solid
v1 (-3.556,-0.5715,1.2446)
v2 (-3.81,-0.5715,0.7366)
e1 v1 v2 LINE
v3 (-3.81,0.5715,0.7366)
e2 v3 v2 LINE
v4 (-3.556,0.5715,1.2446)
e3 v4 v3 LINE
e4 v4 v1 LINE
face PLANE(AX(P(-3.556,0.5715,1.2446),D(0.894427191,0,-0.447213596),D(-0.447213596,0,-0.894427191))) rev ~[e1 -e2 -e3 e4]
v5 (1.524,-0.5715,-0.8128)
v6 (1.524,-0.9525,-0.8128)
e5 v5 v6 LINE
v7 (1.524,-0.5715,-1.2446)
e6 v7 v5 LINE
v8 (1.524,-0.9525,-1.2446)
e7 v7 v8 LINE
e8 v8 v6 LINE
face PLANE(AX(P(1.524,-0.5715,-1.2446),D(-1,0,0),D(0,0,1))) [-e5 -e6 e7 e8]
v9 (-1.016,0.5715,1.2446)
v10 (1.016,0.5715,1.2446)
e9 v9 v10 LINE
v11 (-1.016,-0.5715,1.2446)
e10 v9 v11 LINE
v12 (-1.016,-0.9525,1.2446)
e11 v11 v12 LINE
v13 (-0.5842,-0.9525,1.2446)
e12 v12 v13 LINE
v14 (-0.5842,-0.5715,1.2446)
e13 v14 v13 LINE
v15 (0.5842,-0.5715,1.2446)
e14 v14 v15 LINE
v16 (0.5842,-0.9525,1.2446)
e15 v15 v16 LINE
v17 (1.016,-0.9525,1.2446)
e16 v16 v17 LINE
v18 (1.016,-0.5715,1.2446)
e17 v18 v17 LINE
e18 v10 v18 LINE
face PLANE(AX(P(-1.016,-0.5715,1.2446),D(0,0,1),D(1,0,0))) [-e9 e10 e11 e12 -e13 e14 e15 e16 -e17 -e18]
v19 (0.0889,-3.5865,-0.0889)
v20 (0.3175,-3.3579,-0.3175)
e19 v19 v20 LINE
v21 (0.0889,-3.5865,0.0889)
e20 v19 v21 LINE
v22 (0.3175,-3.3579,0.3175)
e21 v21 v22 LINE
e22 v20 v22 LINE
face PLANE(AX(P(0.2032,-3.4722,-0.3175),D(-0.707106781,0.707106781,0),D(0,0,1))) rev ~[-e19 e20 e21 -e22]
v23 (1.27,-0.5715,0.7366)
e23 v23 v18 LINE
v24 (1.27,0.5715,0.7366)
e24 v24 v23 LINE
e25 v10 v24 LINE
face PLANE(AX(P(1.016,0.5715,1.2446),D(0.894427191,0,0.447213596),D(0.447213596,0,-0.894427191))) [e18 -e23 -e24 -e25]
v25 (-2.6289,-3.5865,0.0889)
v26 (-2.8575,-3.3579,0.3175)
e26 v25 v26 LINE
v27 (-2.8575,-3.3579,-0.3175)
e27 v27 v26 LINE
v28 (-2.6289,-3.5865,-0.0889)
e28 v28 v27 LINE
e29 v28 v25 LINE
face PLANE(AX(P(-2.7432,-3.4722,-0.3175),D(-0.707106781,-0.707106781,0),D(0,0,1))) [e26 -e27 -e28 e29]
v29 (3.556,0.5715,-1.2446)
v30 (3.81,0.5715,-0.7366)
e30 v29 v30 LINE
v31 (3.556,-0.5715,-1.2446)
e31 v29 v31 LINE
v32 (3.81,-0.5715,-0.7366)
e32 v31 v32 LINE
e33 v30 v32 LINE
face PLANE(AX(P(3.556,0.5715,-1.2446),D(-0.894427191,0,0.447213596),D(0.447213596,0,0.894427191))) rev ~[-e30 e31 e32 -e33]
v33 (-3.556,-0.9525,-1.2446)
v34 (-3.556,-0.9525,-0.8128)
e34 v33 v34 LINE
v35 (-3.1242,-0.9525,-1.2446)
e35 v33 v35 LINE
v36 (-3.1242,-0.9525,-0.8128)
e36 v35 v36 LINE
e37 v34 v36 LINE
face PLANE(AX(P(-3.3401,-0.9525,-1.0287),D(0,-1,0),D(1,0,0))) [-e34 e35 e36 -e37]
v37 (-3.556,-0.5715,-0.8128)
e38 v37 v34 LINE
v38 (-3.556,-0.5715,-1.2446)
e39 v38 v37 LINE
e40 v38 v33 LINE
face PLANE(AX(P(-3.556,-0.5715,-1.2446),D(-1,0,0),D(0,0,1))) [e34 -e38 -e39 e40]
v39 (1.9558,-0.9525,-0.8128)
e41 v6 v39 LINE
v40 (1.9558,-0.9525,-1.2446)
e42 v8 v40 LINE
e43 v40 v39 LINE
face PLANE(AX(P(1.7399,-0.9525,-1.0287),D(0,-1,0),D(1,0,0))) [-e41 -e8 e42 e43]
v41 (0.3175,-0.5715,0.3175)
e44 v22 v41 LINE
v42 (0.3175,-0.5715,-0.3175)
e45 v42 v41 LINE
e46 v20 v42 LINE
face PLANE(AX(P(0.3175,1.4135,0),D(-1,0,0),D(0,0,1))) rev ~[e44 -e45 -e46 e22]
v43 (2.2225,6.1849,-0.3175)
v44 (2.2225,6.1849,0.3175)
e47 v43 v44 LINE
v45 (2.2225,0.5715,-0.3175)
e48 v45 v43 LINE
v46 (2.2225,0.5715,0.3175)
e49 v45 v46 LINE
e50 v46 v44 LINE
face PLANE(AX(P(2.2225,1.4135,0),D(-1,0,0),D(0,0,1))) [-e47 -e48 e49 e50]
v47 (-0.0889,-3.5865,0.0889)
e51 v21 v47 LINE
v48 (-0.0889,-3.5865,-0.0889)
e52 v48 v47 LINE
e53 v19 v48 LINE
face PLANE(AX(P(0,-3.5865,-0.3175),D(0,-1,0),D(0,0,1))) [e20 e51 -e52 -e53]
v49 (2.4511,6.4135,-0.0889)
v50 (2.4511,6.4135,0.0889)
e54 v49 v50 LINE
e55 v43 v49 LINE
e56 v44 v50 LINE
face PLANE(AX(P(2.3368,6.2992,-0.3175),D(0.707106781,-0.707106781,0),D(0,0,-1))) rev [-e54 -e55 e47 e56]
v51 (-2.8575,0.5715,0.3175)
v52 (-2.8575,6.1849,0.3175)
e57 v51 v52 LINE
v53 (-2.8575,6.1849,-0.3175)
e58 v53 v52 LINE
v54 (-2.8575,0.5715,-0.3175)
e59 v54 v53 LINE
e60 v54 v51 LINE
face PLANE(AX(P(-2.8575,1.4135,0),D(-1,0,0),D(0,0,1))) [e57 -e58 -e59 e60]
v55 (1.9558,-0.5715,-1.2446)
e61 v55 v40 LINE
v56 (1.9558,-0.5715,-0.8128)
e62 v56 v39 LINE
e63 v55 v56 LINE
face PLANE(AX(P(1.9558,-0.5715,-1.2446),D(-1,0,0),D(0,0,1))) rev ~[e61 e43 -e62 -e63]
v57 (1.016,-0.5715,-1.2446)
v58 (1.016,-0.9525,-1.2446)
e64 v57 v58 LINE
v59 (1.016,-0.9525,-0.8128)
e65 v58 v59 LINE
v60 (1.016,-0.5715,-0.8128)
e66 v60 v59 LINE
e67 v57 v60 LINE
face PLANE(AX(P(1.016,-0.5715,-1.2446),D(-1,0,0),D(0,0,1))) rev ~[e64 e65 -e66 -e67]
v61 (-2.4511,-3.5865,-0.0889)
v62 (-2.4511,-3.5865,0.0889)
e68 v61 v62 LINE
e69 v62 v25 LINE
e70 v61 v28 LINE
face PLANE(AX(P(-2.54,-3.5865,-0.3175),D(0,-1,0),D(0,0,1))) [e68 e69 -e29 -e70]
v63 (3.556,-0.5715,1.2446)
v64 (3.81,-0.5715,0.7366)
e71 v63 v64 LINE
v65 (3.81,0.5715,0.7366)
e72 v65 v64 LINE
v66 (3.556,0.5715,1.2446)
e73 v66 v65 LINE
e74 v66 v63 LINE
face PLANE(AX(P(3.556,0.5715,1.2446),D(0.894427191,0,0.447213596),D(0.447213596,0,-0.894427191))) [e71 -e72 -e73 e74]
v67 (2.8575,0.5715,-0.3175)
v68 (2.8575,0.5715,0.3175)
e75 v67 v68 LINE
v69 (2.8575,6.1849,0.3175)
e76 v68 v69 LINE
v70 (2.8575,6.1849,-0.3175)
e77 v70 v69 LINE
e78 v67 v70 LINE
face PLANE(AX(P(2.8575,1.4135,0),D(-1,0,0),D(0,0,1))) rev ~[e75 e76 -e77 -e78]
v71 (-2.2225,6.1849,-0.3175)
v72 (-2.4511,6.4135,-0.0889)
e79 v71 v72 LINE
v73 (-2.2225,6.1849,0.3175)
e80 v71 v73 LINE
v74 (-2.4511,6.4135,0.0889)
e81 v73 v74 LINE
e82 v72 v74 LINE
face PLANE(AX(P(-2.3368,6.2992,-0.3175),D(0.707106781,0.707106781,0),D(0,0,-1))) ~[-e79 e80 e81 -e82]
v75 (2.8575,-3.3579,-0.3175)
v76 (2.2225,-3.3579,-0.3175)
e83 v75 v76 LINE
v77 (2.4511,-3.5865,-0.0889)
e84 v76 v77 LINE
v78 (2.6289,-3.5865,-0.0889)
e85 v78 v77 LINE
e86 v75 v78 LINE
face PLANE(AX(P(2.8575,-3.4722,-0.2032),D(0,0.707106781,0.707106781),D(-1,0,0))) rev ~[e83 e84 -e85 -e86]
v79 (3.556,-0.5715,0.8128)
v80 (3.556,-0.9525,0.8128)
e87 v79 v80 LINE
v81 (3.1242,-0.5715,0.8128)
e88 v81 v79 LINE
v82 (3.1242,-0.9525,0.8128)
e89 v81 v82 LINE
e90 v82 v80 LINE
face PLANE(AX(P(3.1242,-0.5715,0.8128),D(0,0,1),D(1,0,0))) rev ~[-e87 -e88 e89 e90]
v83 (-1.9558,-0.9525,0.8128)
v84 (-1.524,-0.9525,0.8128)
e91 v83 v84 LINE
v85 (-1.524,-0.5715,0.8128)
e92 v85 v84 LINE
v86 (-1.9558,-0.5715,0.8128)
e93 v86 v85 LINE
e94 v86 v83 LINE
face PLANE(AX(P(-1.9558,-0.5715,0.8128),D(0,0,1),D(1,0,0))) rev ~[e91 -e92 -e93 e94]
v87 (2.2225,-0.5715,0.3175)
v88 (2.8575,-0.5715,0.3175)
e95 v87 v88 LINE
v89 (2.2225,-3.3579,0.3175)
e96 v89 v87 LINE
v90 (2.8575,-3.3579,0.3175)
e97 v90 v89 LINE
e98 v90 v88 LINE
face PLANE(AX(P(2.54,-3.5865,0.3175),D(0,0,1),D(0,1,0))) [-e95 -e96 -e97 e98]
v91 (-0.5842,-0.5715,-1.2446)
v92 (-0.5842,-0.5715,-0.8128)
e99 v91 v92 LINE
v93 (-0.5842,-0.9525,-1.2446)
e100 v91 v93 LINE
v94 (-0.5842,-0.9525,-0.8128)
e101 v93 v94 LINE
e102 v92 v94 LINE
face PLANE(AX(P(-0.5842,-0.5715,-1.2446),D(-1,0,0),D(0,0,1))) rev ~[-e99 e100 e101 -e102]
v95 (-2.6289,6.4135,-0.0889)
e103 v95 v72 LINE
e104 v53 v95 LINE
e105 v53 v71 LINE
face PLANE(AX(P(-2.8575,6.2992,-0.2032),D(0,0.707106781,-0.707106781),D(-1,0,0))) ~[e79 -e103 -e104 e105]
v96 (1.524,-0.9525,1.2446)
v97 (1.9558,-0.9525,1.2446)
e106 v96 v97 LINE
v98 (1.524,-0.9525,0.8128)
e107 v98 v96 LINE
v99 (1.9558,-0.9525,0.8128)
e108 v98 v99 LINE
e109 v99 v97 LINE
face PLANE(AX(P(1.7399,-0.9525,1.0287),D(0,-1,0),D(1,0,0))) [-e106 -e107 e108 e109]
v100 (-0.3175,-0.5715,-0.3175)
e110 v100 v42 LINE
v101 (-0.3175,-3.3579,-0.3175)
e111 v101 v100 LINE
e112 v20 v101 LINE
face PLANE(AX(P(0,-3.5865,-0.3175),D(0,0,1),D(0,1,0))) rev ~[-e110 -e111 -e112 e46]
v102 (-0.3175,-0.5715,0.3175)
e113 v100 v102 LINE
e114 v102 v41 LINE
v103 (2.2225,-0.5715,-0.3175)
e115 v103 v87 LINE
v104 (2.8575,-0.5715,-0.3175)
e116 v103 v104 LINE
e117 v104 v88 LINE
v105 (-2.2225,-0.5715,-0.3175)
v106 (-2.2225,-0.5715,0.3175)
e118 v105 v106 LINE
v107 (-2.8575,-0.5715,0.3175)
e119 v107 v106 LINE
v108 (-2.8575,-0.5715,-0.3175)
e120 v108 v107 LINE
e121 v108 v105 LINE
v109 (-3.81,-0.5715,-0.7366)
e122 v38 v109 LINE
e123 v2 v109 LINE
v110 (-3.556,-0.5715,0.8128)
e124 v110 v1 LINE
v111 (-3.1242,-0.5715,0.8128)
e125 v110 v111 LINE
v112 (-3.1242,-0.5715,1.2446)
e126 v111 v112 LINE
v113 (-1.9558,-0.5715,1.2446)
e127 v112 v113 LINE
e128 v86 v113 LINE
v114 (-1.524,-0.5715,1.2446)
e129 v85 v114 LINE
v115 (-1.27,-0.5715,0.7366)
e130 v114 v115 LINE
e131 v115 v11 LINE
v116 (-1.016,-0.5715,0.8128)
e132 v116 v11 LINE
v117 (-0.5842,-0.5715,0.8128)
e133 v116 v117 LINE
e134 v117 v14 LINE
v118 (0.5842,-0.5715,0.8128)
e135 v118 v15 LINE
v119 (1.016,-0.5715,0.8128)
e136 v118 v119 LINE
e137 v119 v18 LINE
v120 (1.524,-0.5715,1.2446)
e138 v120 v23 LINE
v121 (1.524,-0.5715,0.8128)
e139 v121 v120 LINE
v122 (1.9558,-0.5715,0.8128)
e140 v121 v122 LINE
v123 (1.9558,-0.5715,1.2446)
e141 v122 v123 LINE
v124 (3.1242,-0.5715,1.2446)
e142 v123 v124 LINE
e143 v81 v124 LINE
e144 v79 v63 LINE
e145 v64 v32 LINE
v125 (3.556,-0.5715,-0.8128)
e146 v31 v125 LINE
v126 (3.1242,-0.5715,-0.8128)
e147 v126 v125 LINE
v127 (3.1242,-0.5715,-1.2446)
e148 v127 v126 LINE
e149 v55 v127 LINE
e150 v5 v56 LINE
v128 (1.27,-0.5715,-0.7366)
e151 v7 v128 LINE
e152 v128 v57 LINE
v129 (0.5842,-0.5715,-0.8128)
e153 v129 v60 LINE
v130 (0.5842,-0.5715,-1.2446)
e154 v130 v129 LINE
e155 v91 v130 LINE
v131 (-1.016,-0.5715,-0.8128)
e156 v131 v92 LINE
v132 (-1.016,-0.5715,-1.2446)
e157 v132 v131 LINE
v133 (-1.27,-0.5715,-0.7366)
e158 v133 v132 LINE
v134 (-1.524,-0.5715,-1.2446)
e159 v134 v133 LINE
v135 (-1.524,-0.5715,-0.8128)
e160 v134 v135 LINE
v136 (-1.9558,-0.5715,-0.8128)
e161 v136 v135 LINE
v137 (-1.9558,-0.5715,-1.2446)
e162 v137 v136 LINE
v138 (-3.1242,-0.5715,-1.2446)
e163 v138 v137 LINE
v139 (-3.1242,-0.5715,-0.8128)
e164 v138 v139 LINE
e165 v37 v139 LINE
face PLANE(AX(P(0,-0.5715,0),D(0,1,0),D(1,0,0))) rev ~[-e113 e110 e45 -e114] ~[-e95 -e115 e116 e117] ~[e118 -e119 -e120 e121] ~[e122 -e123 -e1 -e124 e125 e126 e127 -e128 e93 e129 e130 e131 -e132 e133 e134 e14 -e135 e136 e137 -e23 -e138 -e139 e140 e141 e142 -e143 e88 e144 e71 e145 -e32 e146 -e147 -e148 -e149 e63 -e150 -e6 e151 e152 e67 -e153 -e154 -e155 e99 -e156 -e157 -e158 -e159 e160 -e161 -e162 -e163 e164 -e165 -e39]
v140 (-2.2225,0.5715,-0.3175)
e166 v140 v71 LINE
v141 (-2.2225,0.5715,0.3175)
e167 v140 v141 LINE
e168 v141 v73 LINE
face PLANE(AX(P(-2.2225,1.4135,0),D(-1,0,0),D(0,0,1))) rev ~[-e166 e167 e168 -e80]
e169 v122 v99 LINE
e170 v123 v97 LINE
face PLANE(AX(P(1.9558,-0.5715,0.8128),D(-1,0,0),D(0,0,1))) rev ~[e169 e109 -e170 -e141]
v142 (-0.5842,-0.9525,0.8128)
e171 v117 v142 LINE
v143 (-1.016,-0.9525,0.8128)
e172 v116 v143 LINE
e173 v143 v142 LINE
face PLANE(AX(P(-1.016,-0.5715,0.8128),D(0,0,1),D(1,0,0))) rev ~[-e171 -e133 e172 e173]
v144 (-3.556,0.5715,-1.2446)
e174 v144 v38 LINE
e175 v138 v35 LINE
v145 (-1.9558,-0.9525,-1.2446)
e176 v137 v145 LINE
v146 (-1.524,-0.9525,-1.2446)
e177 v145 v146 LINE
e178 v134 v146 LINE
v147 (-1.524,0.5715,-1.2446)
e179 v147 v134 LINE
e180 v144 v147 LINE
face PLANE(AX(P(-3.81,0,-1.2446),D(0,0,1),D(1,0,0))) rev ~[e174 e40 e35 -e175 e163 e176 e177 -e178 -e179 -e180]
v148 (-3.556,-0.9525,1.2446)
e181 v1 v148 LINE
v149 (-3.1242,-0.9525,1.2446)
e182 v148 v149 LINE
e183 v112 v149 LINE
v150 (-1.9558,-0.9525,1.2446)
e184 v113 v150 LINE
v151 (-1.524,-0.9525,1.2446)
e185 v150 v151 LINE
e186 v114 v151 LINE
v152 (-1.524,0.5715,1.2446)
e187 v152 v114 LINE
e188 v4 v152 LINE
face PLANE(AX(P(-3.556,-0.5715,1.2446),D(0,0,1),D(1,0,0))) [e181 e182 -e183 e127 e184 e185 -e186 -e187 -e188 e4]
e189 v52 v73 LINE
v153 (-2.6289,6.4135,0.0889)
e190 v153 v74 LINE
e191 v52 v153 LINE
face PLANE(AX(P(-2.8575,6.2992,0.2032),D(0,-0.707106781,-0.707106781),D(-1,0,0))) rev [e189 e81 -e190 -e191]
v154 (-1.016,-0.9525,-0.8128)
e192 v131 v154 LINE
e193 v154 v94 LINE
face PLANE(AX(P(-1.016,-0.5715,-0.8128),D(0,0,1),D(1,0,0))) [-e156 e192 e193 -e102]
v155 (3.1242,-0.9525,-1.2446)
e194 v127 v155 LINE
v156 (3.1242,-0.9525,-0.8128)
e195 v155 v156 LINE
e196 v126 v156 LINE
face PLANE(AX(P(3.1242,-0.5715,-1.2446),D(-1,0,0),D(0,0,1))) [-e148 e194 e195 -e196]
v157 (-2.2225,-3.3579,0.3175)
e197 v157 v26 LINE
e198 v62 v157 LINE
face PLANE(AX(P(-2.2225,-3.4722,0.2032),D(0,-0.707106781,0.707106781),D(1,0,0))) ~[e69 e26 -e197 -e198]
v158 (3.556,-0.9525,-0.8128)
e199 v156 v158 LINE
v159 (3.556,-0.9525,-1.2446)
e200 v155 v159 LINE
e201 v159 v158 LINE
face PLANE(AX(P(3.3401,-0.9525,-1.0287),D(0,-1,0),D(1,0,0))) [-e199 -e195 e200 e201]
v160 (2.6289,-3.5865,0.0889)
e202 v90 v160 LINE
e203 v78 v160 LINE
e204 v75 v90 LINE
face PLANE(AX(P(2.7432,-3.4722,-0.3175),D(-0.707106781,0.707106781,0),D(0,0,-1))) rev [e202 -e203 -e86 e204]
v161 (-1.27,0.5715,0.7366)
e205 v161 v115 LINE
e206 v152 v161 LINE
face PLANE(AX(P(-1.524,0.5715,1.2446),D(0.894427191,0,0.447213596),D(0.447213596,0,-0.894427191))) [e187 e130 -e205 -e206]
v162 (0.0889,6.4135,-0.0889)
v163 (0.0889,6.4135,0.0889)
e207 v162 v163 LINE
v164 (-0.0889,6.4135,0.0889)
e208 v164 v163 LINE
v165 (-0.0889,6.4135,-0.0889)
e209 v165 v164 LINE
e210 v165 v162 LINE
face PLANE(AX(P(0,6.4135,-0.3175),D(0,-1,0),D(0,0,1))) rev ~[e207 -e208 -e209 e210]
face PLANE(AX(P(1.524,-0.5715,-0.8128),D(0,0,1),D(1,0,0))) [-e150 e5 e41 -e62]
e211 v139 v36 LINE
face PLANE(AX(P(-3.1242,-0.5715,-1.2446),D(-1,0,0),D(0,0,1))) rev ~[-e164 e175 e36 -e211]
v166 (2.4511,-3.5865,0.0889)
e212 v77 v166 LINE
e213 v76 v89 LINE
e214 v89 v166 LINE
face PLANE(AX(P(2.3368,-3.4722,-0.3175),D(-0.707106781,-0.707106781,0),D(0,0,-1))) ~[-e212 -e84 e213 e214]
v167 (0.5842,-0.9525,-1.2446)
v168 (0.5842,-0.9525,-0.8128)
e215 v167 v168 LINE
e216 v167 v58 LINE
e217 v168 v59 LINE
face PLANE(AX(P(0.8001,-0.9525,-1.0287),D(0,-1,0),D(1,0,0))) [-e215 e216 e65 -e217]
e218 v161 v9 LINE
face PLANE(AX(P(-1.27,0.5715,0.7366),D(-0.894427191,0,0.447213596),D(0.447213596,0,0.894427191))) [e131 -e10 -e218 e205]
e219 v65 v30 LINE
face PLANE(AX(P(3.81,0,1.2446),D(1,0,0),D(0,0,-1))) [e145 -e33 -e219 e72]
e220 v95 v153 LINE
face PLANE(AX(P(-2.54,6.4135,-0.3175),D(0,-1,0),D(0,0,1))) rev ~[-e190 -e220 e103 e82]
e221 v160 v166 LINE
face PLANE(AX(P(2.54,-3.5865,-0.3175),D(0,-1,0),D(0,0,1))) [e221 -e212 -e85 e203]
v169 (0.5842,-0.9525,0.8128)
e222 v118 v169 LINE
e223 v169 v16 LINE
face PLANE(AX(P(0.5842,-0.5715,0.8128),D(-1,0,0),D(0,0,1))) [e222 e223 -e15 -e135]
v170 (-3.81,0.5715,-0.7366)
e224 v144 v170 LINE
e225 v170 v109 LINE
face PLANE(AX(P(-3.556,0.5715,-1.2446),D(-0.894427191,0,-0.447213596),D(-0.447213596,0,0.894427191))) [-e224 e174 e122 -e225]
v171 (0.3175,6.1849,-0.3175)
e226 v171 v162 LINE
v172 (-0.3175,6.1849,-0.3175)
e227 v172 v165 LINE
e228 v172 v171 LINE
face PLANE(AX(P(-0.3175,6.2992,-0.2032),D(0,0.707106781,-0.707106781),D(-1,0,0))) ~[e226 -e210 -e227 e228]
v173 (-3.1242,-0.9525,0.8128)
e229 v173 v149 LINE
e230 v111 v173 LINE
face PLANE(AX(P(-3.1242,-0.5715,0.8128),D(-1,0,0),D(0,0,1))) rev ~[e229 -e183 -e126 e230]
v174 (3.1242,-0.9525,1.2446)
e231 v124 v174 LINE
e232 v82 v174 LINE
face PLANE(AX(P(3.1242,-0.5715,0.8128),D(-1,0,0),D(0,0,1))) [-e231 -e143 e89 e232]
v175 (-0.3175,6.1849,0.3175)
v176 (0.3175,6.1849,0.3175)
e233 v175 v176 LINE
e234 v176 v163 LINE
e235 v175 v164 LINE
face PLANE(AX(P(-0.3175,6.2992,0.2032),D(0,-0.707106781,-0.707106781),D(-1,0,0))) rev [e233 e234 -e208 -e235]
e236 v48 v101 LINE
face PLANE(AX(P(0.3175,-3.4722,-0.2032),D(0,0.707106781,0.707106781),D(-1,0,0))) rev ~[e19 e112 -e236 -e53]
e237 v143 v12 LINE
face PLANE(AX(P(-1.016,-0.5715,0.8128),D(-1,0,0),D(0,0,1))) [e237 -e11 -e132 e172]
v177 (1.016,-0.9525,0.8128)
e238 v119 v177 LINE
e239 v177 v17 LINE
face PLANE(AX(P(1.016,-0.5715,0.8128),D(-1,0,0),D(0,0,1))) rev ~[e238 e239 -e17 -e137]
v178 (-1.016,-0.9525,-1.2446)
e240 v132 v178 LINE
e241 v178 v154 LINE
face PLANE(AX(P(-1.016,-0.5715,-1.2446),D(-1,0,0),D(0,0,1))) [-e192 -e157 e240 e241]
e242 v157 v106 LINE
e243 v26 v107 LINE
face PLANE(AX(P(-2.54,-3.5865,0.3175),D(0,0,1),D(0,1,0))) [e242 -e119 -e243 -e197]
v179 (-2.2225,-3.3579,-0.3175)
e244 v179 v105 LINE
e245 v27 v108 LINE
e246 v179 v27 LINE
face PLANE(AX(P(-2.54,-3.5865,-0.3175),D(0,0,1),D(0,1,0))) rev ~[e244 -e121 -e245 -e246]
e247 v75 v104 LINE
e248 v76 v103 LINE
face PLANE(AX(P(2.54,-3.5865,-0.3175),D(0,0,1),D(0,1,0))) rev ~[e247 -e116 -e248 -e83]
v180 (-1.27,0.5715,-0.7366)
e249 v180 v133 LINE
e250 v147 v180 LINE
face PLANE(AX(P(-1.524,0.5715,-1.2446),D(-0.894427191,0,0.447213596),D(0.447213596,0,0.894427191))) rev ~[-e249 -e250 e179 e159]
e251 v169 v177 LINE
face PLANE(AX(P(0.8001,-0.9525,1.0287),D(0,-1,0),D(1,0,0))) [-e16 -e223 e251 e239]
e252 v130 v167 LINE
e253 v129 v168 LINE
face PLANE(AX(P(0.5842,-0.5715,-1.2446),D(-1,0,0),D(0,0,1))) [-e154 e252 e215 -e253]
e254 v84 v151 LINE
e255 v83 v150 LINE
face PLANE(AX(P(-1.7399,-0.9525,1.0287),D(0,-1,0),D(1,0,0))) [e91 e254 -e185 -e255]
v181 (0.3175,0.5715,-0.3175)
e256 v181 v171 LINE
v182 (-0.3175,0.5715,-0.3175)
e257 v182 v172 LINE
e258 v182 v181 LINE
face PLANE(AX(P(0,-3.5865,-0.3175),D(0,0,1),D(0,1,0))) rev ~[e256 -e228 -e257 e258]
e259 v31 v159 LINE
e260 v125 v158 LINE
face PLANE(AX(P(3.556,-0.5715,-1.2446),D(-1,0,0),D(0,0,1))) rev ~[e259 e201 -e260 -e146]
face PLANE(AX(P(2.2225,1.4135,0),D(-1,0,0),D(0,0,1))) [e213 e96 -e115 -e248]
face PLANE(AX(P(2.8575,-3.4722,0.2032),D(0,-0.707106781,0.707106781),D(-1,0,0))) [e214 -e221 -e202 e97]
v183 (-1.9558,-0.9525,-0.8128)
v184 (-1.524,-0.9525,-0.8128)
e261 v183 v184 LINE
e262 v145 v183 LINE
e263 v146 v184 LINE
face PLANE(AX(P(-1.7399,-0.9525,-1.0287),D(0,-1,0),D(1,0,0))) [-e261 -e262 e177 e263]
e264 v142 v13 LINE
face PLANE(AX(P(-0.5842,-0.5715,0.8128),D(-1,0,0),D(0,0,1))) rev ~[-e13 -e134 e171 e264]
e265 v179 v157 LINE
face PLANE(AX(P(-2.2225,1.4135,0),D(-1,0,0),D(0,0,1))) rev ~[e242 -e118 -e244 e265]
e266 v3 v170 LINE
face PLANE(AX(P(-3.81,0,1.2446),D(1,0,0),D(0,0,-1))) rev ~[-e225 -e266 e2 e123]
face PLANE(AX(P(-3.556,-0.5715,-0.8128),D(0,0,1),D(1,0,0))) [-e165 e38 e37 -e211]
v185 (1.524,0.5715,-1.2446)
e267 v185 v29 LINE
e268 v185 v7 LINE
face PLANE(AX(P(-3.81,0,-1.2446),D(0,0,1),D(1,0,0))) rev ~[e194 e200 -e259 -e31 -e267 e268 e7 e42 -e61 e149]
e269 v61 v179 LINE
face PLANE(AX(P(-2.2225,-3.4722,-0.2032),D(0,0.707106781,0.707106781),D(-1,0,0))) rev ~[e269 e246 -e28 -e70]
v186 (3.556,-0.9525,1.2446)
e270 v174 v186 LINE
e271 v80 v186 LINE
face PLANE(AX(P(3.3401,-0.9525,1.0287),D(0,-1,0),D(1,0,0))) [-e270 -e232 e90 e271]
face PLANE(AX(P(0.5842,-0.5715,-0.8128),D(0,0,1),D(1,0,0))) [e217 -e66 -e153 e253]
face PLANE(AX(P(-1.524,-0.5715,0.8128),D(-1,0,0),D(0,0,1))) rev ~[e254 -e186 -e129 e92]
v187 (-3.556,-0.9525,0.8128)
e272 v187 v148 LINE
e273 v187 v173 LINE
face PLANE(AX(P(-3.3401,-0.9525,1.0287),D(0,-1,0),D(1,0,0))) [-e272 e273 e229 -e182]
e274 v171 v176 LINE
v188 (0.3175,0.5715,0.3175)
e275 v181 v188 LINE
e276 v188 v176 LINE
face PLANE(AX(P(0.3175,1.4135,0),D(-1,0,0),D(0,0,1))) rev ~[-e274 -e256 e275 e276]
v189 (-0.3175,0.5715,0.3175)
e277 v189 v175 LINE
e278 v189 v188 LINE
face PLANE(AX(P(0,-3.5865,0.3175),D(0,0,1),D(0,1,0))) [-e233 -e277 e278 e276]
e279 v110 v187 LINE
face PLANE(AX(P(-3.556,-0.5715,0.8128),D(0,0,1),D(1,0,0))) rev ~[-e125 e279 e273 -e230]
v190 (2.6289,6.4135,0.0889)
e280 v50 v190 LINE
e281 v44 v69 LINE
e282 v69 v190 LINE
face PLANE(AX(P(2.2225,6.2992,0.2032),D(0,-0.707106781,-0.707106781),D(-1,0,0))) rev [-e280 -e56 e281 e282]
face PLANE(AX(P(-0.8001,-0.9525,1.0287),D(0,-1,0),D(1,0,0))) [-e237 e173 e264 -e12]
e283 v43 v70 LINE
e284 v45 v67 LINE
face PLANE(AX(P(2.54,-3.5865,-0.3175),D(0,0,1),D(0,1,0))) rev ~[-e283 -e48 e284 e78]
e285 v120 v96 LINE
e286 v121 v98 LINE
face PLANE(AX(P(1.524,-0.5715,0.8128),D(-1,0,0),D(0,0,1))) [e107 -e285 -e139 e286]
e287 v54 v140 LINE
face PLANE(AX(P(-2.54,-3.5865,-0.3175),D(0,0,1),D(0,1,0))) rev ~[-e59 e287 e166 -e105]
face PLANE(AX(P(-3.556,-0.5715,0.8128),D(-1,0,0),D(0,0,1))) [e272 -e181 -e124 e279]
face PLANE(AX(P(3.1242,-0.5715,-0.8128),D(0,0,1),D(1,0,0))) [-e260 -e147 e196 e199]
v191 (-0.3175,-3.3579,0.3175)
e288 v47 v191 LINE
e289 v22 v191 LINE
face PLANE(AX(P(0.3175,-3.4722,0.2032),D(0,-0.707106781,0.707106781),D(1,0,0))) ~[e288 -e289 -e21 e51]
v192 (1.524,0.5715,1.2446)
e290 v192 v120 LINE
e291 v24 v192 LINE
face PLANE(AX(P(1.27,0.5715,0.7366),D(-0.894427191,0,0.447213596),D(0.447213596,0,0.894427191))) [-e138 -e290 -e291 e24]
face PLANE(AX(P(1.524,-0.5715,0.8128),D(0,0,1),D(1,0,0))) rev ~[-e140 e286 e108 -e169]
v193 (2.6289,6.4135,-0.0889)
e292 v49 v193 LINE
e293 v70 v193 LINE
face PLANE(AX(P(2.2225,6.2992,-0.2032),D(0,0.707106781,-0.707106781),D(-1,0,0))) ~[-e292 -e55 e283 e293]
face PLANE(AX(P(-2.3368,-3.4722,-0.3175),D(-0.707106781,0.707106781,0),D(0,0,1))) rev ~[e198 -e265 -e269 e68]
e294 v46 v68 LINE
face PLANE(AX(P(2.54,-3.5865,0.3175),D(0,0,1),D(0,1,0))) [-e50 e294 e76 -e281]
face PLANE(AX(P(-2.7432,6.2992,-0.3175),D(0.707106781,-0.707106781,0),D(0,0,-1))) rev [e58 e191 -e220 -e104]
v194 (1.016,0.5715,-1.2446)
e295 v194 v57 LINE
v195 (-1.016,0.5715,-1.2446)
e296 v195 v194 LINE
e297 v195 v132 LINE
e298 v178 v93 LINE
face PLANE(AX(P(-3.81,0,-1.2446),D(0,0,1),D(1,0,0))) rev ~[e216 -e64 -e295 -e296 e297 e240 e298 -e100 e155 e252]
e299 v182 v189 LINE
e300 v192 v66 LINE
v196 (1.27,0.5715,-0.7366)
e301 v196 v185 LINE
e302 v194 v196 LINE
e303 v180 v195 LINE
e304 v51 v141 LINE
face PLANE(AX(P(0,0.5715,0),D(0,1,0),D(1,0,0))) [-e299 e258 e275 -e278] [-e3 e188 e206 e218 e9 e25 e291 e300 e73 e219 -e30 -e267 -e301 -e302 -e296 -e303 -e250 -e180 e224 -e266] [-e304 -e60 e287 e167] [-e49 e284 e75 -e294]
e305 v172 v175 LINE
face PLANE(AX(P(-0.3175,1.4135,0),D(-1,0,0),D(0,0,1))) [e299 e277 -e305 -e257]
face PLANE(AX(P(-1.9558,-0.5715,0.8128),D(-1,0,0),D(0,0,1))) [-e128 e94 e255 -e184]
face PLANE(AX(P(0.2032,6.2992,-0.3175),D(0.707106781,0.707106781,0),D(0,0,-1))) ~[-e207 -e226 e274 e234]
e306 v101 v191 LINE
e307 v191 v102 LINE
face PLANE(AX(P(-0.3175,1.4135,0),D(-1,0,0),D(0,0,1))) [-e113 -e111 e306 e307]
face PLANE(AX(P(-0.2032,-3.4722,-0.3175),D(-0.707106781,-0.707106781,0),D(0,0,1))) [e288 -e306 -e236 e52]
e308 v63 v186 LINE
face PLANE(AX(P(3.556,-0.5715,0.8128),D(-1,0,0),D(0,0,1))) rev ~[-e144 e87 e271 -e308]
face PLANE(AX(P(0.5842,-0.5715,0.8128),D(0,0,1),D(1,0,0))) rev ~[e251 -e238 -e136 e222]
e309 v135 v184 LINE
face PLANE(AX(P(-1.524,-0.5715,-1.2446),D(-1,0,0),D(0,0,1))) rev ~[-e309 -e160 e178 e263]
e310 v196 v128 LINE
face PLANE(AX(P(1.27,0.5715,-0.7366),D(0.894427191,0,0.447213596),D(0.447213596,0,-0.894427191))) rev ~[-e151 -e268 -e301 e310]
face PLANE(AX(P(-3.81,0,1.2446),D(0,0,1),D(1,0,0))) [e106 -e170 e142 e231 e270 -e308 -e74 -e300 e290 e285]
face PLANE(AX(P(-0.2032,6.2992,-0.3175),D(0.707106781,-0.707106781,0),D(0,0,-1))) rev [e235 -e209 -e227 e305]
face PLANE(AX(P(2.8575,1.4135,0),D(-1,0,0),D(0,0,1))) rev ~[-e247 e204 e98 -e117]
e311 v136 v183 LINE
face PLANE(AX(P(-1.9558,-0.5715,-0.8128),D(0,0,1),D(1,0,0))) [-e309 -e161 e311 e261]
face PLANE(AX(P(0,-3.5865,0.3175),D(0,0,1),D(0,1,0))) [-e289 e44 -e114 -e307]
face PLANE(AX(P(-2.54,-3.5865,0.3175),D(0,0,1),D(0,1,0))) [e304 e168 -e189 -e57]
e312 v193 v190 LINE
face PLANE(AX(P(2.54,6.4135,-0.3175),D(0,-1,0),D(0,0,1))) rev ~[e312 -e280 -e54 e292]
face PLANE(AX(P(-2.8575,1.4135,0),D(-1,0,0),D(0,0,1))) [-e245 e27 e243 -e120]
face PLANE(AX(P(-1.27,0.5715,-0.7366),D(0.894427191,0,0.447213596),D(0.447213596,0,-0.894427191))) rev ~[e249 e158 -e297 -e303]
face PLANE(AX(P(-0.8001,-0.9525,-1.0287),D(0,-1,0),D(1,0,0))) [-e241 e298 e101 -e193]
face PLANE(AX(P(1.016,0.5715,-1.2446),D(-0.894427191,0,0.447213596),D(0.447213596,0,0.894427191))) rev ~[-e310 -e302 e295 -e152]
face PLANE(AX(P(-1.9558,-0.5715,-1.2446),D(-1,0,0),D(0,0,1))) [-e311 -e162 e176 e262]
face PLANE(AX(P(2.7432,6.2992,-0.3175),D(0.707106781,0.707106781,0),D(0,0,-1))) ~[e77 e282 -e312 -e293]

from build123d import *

# Parameters (mm, degrees)
SKETCH1_W                        = 7.62
SKETCH1_H                        = 2.4892
BASE_EXTRUDE_DEPTH               = 0.5715
SNAP_GROOVES_DEPTH               = 2.143
SKETCH4_W                        = 0.4318
SKETCH4_H                        = 0.4318
STANDOFFS_DEPTH                  = 0.381
POSITION_PATTERN_COUNT           = 3
POSITION_PATTERN_PITCH           = 2.54
SKETCH5_W                        = 0.635
SKETCH5_H                        = 10
TERMINAL_TH_DEPTH                = 0.3175
T1_TIP1_SIZE                     = 0.2286
TERMINAL_PATTERN_COUNT           = 3
TERMINAL_PATTERN_PITCH           = 2.54
T1_TIP1_OF_TERMINAL_PATTERN_SIZE = 0.2286


with BuildPart() as part:
    # Sketch1 → Base-Extrude (new body, symmetric)
    with BuildSketch(Plane(origin=(0, 0, 0), x_dir=(1, 0, 0), z_dir=(0, 1, 0))):
        Rectangle(SKETCH1_W, SKETCH1_H)
    extrude(amount=BASE_EXTRUDE_DEPTH, both=True)

    # Sketch3 → Snap Grooves (cut, through all)
    with BuildSketch(Plane(origin=(0, 0.5715, 0), x_dir=(-1, 0, 0), z_dir=(0, 1, 0))):
        Polygon((1.016, 1.2446), (1.524, 1.2446), (1.27, 0.7366), align=None)
        Polygon((1.016, -1.2446), (1.524, -1.2446), (1.27, -0.7366), align=None)
        Polygon((3.81, -0.7366), (4.064, -1.2446), (3.556, -1.2446), align=None)
        Polygon((3.81, 0.7366), (4.064, 1.2446), (3.556, 1.2446), align=None)
    snap_grooves = extrude(amount=-SNAP_GROOVES_DEPTH, mode=Mode.SUBTRACT)

    # Sketch4 → Standoffs (add)
    with BuildSketch(Plane.XZ.offset(0.5715)):
        with Locations((-3.3401, 1.0287)):
            Rectangle(SKETCH4_W, SKETCH4_H)
        with Locations((-1.7399, 1.0287)):
            Rectangle(SKETCH4_W, SKETCH4_H)
        with Locations((-1.7399, -1.0287)):
            Rectangle(SKETCH4_W, SKETCH4_H)
        with Locations((-3.3401, -1.0287)):
            Rectangle(SKETCH4_W, SKETCH4_H)
    standoffs = extrude(amount=STANDOFFS_DEPTH)

    # Position Pattern: Snap Grooves, Standoffs ×3
    with Locations(*[(i * POSITION_PATTERN_PITCH, 0, 0) for i in range(1, POSITION_PATTERN_COUNT)]):
        add(snap_grooves, mode=Mode.SUBTRACT)
        add(standoffs)

    # Sketch5 → Terminal -TH (add, symmetric)
    with BuildSketch(Plane.ZY.offset(2.54)):
        with Locations((0, 1.4135)):
            Rectangle(SKETCH5_W, SKETCH5_H)
    terminal_th = extrude(amount=TERMINAL_TH_DEPTH, both=True)

    # T1 Tip1
    t1_tip1_edges = [part.edges().sort_by_distance(p)[0] for p in [
        (-2.54, -3.5865, 0.3175),
        (-2.8575, -3.5865, 0),
        (-2.54, 6.4135, -0.3175),
        (-2.2225, -3.5865, 0),
        (-2.54, -3.5865, -0.3175),
        (-2.2225, 6.4135, 0),
        (-2.54, 6.4135, 0.3175),
        (-2.8575, 6.4135, 0),
    ]]
    chamfer(t1_tip1_edges, length=T1_TIP1_SIZE)

    # Terminal Pattern: Terminal -TH ×3
    with Locations(*[(i * TERMINAL_PATTERN_PITCH, 0, 0) for i in range(1, TERMINAL_PATTERN_COUNT)]):
        add(terminal_th)

    # T1 Tip1 of Terminal Pattern
    t1_tip1_of_terminal_pattern_edges = [part.edges().sort_by_distance(p)[0] for p in [
        (0, -3.5865, 0.3175),
        (-0.3175, -3.5865, 0),
        (0, 6.4135, -0.3175),
        (0.3175, -3.5865, 0),
        (0, -3.5865, -0.3175),
        (0.3175, 6.4135, 0),
        (0, 6.4135, 0.3175),
        (-0.3175, 6.4135, 0),
        (2.54, -3.5865, 0.3175),
        (2.2225, -3.5865, 0),
        (2.54, 6.4135, -0.3175),
        (2.8575, -3.5865, 0),
        (2.54, -3.5865, -0.3175),
        (2.8575, 6.4135, 0),
        (2.54, 6.4135, 0.3175),
        (2.2225, 6.4135, 0),
    ]]
    chamfer(t1_tip1_of_terminal_pattern_edges, length=T1_TIP1_OF_TERMINAL_PATTERN_SIZE)


solid = part.part
